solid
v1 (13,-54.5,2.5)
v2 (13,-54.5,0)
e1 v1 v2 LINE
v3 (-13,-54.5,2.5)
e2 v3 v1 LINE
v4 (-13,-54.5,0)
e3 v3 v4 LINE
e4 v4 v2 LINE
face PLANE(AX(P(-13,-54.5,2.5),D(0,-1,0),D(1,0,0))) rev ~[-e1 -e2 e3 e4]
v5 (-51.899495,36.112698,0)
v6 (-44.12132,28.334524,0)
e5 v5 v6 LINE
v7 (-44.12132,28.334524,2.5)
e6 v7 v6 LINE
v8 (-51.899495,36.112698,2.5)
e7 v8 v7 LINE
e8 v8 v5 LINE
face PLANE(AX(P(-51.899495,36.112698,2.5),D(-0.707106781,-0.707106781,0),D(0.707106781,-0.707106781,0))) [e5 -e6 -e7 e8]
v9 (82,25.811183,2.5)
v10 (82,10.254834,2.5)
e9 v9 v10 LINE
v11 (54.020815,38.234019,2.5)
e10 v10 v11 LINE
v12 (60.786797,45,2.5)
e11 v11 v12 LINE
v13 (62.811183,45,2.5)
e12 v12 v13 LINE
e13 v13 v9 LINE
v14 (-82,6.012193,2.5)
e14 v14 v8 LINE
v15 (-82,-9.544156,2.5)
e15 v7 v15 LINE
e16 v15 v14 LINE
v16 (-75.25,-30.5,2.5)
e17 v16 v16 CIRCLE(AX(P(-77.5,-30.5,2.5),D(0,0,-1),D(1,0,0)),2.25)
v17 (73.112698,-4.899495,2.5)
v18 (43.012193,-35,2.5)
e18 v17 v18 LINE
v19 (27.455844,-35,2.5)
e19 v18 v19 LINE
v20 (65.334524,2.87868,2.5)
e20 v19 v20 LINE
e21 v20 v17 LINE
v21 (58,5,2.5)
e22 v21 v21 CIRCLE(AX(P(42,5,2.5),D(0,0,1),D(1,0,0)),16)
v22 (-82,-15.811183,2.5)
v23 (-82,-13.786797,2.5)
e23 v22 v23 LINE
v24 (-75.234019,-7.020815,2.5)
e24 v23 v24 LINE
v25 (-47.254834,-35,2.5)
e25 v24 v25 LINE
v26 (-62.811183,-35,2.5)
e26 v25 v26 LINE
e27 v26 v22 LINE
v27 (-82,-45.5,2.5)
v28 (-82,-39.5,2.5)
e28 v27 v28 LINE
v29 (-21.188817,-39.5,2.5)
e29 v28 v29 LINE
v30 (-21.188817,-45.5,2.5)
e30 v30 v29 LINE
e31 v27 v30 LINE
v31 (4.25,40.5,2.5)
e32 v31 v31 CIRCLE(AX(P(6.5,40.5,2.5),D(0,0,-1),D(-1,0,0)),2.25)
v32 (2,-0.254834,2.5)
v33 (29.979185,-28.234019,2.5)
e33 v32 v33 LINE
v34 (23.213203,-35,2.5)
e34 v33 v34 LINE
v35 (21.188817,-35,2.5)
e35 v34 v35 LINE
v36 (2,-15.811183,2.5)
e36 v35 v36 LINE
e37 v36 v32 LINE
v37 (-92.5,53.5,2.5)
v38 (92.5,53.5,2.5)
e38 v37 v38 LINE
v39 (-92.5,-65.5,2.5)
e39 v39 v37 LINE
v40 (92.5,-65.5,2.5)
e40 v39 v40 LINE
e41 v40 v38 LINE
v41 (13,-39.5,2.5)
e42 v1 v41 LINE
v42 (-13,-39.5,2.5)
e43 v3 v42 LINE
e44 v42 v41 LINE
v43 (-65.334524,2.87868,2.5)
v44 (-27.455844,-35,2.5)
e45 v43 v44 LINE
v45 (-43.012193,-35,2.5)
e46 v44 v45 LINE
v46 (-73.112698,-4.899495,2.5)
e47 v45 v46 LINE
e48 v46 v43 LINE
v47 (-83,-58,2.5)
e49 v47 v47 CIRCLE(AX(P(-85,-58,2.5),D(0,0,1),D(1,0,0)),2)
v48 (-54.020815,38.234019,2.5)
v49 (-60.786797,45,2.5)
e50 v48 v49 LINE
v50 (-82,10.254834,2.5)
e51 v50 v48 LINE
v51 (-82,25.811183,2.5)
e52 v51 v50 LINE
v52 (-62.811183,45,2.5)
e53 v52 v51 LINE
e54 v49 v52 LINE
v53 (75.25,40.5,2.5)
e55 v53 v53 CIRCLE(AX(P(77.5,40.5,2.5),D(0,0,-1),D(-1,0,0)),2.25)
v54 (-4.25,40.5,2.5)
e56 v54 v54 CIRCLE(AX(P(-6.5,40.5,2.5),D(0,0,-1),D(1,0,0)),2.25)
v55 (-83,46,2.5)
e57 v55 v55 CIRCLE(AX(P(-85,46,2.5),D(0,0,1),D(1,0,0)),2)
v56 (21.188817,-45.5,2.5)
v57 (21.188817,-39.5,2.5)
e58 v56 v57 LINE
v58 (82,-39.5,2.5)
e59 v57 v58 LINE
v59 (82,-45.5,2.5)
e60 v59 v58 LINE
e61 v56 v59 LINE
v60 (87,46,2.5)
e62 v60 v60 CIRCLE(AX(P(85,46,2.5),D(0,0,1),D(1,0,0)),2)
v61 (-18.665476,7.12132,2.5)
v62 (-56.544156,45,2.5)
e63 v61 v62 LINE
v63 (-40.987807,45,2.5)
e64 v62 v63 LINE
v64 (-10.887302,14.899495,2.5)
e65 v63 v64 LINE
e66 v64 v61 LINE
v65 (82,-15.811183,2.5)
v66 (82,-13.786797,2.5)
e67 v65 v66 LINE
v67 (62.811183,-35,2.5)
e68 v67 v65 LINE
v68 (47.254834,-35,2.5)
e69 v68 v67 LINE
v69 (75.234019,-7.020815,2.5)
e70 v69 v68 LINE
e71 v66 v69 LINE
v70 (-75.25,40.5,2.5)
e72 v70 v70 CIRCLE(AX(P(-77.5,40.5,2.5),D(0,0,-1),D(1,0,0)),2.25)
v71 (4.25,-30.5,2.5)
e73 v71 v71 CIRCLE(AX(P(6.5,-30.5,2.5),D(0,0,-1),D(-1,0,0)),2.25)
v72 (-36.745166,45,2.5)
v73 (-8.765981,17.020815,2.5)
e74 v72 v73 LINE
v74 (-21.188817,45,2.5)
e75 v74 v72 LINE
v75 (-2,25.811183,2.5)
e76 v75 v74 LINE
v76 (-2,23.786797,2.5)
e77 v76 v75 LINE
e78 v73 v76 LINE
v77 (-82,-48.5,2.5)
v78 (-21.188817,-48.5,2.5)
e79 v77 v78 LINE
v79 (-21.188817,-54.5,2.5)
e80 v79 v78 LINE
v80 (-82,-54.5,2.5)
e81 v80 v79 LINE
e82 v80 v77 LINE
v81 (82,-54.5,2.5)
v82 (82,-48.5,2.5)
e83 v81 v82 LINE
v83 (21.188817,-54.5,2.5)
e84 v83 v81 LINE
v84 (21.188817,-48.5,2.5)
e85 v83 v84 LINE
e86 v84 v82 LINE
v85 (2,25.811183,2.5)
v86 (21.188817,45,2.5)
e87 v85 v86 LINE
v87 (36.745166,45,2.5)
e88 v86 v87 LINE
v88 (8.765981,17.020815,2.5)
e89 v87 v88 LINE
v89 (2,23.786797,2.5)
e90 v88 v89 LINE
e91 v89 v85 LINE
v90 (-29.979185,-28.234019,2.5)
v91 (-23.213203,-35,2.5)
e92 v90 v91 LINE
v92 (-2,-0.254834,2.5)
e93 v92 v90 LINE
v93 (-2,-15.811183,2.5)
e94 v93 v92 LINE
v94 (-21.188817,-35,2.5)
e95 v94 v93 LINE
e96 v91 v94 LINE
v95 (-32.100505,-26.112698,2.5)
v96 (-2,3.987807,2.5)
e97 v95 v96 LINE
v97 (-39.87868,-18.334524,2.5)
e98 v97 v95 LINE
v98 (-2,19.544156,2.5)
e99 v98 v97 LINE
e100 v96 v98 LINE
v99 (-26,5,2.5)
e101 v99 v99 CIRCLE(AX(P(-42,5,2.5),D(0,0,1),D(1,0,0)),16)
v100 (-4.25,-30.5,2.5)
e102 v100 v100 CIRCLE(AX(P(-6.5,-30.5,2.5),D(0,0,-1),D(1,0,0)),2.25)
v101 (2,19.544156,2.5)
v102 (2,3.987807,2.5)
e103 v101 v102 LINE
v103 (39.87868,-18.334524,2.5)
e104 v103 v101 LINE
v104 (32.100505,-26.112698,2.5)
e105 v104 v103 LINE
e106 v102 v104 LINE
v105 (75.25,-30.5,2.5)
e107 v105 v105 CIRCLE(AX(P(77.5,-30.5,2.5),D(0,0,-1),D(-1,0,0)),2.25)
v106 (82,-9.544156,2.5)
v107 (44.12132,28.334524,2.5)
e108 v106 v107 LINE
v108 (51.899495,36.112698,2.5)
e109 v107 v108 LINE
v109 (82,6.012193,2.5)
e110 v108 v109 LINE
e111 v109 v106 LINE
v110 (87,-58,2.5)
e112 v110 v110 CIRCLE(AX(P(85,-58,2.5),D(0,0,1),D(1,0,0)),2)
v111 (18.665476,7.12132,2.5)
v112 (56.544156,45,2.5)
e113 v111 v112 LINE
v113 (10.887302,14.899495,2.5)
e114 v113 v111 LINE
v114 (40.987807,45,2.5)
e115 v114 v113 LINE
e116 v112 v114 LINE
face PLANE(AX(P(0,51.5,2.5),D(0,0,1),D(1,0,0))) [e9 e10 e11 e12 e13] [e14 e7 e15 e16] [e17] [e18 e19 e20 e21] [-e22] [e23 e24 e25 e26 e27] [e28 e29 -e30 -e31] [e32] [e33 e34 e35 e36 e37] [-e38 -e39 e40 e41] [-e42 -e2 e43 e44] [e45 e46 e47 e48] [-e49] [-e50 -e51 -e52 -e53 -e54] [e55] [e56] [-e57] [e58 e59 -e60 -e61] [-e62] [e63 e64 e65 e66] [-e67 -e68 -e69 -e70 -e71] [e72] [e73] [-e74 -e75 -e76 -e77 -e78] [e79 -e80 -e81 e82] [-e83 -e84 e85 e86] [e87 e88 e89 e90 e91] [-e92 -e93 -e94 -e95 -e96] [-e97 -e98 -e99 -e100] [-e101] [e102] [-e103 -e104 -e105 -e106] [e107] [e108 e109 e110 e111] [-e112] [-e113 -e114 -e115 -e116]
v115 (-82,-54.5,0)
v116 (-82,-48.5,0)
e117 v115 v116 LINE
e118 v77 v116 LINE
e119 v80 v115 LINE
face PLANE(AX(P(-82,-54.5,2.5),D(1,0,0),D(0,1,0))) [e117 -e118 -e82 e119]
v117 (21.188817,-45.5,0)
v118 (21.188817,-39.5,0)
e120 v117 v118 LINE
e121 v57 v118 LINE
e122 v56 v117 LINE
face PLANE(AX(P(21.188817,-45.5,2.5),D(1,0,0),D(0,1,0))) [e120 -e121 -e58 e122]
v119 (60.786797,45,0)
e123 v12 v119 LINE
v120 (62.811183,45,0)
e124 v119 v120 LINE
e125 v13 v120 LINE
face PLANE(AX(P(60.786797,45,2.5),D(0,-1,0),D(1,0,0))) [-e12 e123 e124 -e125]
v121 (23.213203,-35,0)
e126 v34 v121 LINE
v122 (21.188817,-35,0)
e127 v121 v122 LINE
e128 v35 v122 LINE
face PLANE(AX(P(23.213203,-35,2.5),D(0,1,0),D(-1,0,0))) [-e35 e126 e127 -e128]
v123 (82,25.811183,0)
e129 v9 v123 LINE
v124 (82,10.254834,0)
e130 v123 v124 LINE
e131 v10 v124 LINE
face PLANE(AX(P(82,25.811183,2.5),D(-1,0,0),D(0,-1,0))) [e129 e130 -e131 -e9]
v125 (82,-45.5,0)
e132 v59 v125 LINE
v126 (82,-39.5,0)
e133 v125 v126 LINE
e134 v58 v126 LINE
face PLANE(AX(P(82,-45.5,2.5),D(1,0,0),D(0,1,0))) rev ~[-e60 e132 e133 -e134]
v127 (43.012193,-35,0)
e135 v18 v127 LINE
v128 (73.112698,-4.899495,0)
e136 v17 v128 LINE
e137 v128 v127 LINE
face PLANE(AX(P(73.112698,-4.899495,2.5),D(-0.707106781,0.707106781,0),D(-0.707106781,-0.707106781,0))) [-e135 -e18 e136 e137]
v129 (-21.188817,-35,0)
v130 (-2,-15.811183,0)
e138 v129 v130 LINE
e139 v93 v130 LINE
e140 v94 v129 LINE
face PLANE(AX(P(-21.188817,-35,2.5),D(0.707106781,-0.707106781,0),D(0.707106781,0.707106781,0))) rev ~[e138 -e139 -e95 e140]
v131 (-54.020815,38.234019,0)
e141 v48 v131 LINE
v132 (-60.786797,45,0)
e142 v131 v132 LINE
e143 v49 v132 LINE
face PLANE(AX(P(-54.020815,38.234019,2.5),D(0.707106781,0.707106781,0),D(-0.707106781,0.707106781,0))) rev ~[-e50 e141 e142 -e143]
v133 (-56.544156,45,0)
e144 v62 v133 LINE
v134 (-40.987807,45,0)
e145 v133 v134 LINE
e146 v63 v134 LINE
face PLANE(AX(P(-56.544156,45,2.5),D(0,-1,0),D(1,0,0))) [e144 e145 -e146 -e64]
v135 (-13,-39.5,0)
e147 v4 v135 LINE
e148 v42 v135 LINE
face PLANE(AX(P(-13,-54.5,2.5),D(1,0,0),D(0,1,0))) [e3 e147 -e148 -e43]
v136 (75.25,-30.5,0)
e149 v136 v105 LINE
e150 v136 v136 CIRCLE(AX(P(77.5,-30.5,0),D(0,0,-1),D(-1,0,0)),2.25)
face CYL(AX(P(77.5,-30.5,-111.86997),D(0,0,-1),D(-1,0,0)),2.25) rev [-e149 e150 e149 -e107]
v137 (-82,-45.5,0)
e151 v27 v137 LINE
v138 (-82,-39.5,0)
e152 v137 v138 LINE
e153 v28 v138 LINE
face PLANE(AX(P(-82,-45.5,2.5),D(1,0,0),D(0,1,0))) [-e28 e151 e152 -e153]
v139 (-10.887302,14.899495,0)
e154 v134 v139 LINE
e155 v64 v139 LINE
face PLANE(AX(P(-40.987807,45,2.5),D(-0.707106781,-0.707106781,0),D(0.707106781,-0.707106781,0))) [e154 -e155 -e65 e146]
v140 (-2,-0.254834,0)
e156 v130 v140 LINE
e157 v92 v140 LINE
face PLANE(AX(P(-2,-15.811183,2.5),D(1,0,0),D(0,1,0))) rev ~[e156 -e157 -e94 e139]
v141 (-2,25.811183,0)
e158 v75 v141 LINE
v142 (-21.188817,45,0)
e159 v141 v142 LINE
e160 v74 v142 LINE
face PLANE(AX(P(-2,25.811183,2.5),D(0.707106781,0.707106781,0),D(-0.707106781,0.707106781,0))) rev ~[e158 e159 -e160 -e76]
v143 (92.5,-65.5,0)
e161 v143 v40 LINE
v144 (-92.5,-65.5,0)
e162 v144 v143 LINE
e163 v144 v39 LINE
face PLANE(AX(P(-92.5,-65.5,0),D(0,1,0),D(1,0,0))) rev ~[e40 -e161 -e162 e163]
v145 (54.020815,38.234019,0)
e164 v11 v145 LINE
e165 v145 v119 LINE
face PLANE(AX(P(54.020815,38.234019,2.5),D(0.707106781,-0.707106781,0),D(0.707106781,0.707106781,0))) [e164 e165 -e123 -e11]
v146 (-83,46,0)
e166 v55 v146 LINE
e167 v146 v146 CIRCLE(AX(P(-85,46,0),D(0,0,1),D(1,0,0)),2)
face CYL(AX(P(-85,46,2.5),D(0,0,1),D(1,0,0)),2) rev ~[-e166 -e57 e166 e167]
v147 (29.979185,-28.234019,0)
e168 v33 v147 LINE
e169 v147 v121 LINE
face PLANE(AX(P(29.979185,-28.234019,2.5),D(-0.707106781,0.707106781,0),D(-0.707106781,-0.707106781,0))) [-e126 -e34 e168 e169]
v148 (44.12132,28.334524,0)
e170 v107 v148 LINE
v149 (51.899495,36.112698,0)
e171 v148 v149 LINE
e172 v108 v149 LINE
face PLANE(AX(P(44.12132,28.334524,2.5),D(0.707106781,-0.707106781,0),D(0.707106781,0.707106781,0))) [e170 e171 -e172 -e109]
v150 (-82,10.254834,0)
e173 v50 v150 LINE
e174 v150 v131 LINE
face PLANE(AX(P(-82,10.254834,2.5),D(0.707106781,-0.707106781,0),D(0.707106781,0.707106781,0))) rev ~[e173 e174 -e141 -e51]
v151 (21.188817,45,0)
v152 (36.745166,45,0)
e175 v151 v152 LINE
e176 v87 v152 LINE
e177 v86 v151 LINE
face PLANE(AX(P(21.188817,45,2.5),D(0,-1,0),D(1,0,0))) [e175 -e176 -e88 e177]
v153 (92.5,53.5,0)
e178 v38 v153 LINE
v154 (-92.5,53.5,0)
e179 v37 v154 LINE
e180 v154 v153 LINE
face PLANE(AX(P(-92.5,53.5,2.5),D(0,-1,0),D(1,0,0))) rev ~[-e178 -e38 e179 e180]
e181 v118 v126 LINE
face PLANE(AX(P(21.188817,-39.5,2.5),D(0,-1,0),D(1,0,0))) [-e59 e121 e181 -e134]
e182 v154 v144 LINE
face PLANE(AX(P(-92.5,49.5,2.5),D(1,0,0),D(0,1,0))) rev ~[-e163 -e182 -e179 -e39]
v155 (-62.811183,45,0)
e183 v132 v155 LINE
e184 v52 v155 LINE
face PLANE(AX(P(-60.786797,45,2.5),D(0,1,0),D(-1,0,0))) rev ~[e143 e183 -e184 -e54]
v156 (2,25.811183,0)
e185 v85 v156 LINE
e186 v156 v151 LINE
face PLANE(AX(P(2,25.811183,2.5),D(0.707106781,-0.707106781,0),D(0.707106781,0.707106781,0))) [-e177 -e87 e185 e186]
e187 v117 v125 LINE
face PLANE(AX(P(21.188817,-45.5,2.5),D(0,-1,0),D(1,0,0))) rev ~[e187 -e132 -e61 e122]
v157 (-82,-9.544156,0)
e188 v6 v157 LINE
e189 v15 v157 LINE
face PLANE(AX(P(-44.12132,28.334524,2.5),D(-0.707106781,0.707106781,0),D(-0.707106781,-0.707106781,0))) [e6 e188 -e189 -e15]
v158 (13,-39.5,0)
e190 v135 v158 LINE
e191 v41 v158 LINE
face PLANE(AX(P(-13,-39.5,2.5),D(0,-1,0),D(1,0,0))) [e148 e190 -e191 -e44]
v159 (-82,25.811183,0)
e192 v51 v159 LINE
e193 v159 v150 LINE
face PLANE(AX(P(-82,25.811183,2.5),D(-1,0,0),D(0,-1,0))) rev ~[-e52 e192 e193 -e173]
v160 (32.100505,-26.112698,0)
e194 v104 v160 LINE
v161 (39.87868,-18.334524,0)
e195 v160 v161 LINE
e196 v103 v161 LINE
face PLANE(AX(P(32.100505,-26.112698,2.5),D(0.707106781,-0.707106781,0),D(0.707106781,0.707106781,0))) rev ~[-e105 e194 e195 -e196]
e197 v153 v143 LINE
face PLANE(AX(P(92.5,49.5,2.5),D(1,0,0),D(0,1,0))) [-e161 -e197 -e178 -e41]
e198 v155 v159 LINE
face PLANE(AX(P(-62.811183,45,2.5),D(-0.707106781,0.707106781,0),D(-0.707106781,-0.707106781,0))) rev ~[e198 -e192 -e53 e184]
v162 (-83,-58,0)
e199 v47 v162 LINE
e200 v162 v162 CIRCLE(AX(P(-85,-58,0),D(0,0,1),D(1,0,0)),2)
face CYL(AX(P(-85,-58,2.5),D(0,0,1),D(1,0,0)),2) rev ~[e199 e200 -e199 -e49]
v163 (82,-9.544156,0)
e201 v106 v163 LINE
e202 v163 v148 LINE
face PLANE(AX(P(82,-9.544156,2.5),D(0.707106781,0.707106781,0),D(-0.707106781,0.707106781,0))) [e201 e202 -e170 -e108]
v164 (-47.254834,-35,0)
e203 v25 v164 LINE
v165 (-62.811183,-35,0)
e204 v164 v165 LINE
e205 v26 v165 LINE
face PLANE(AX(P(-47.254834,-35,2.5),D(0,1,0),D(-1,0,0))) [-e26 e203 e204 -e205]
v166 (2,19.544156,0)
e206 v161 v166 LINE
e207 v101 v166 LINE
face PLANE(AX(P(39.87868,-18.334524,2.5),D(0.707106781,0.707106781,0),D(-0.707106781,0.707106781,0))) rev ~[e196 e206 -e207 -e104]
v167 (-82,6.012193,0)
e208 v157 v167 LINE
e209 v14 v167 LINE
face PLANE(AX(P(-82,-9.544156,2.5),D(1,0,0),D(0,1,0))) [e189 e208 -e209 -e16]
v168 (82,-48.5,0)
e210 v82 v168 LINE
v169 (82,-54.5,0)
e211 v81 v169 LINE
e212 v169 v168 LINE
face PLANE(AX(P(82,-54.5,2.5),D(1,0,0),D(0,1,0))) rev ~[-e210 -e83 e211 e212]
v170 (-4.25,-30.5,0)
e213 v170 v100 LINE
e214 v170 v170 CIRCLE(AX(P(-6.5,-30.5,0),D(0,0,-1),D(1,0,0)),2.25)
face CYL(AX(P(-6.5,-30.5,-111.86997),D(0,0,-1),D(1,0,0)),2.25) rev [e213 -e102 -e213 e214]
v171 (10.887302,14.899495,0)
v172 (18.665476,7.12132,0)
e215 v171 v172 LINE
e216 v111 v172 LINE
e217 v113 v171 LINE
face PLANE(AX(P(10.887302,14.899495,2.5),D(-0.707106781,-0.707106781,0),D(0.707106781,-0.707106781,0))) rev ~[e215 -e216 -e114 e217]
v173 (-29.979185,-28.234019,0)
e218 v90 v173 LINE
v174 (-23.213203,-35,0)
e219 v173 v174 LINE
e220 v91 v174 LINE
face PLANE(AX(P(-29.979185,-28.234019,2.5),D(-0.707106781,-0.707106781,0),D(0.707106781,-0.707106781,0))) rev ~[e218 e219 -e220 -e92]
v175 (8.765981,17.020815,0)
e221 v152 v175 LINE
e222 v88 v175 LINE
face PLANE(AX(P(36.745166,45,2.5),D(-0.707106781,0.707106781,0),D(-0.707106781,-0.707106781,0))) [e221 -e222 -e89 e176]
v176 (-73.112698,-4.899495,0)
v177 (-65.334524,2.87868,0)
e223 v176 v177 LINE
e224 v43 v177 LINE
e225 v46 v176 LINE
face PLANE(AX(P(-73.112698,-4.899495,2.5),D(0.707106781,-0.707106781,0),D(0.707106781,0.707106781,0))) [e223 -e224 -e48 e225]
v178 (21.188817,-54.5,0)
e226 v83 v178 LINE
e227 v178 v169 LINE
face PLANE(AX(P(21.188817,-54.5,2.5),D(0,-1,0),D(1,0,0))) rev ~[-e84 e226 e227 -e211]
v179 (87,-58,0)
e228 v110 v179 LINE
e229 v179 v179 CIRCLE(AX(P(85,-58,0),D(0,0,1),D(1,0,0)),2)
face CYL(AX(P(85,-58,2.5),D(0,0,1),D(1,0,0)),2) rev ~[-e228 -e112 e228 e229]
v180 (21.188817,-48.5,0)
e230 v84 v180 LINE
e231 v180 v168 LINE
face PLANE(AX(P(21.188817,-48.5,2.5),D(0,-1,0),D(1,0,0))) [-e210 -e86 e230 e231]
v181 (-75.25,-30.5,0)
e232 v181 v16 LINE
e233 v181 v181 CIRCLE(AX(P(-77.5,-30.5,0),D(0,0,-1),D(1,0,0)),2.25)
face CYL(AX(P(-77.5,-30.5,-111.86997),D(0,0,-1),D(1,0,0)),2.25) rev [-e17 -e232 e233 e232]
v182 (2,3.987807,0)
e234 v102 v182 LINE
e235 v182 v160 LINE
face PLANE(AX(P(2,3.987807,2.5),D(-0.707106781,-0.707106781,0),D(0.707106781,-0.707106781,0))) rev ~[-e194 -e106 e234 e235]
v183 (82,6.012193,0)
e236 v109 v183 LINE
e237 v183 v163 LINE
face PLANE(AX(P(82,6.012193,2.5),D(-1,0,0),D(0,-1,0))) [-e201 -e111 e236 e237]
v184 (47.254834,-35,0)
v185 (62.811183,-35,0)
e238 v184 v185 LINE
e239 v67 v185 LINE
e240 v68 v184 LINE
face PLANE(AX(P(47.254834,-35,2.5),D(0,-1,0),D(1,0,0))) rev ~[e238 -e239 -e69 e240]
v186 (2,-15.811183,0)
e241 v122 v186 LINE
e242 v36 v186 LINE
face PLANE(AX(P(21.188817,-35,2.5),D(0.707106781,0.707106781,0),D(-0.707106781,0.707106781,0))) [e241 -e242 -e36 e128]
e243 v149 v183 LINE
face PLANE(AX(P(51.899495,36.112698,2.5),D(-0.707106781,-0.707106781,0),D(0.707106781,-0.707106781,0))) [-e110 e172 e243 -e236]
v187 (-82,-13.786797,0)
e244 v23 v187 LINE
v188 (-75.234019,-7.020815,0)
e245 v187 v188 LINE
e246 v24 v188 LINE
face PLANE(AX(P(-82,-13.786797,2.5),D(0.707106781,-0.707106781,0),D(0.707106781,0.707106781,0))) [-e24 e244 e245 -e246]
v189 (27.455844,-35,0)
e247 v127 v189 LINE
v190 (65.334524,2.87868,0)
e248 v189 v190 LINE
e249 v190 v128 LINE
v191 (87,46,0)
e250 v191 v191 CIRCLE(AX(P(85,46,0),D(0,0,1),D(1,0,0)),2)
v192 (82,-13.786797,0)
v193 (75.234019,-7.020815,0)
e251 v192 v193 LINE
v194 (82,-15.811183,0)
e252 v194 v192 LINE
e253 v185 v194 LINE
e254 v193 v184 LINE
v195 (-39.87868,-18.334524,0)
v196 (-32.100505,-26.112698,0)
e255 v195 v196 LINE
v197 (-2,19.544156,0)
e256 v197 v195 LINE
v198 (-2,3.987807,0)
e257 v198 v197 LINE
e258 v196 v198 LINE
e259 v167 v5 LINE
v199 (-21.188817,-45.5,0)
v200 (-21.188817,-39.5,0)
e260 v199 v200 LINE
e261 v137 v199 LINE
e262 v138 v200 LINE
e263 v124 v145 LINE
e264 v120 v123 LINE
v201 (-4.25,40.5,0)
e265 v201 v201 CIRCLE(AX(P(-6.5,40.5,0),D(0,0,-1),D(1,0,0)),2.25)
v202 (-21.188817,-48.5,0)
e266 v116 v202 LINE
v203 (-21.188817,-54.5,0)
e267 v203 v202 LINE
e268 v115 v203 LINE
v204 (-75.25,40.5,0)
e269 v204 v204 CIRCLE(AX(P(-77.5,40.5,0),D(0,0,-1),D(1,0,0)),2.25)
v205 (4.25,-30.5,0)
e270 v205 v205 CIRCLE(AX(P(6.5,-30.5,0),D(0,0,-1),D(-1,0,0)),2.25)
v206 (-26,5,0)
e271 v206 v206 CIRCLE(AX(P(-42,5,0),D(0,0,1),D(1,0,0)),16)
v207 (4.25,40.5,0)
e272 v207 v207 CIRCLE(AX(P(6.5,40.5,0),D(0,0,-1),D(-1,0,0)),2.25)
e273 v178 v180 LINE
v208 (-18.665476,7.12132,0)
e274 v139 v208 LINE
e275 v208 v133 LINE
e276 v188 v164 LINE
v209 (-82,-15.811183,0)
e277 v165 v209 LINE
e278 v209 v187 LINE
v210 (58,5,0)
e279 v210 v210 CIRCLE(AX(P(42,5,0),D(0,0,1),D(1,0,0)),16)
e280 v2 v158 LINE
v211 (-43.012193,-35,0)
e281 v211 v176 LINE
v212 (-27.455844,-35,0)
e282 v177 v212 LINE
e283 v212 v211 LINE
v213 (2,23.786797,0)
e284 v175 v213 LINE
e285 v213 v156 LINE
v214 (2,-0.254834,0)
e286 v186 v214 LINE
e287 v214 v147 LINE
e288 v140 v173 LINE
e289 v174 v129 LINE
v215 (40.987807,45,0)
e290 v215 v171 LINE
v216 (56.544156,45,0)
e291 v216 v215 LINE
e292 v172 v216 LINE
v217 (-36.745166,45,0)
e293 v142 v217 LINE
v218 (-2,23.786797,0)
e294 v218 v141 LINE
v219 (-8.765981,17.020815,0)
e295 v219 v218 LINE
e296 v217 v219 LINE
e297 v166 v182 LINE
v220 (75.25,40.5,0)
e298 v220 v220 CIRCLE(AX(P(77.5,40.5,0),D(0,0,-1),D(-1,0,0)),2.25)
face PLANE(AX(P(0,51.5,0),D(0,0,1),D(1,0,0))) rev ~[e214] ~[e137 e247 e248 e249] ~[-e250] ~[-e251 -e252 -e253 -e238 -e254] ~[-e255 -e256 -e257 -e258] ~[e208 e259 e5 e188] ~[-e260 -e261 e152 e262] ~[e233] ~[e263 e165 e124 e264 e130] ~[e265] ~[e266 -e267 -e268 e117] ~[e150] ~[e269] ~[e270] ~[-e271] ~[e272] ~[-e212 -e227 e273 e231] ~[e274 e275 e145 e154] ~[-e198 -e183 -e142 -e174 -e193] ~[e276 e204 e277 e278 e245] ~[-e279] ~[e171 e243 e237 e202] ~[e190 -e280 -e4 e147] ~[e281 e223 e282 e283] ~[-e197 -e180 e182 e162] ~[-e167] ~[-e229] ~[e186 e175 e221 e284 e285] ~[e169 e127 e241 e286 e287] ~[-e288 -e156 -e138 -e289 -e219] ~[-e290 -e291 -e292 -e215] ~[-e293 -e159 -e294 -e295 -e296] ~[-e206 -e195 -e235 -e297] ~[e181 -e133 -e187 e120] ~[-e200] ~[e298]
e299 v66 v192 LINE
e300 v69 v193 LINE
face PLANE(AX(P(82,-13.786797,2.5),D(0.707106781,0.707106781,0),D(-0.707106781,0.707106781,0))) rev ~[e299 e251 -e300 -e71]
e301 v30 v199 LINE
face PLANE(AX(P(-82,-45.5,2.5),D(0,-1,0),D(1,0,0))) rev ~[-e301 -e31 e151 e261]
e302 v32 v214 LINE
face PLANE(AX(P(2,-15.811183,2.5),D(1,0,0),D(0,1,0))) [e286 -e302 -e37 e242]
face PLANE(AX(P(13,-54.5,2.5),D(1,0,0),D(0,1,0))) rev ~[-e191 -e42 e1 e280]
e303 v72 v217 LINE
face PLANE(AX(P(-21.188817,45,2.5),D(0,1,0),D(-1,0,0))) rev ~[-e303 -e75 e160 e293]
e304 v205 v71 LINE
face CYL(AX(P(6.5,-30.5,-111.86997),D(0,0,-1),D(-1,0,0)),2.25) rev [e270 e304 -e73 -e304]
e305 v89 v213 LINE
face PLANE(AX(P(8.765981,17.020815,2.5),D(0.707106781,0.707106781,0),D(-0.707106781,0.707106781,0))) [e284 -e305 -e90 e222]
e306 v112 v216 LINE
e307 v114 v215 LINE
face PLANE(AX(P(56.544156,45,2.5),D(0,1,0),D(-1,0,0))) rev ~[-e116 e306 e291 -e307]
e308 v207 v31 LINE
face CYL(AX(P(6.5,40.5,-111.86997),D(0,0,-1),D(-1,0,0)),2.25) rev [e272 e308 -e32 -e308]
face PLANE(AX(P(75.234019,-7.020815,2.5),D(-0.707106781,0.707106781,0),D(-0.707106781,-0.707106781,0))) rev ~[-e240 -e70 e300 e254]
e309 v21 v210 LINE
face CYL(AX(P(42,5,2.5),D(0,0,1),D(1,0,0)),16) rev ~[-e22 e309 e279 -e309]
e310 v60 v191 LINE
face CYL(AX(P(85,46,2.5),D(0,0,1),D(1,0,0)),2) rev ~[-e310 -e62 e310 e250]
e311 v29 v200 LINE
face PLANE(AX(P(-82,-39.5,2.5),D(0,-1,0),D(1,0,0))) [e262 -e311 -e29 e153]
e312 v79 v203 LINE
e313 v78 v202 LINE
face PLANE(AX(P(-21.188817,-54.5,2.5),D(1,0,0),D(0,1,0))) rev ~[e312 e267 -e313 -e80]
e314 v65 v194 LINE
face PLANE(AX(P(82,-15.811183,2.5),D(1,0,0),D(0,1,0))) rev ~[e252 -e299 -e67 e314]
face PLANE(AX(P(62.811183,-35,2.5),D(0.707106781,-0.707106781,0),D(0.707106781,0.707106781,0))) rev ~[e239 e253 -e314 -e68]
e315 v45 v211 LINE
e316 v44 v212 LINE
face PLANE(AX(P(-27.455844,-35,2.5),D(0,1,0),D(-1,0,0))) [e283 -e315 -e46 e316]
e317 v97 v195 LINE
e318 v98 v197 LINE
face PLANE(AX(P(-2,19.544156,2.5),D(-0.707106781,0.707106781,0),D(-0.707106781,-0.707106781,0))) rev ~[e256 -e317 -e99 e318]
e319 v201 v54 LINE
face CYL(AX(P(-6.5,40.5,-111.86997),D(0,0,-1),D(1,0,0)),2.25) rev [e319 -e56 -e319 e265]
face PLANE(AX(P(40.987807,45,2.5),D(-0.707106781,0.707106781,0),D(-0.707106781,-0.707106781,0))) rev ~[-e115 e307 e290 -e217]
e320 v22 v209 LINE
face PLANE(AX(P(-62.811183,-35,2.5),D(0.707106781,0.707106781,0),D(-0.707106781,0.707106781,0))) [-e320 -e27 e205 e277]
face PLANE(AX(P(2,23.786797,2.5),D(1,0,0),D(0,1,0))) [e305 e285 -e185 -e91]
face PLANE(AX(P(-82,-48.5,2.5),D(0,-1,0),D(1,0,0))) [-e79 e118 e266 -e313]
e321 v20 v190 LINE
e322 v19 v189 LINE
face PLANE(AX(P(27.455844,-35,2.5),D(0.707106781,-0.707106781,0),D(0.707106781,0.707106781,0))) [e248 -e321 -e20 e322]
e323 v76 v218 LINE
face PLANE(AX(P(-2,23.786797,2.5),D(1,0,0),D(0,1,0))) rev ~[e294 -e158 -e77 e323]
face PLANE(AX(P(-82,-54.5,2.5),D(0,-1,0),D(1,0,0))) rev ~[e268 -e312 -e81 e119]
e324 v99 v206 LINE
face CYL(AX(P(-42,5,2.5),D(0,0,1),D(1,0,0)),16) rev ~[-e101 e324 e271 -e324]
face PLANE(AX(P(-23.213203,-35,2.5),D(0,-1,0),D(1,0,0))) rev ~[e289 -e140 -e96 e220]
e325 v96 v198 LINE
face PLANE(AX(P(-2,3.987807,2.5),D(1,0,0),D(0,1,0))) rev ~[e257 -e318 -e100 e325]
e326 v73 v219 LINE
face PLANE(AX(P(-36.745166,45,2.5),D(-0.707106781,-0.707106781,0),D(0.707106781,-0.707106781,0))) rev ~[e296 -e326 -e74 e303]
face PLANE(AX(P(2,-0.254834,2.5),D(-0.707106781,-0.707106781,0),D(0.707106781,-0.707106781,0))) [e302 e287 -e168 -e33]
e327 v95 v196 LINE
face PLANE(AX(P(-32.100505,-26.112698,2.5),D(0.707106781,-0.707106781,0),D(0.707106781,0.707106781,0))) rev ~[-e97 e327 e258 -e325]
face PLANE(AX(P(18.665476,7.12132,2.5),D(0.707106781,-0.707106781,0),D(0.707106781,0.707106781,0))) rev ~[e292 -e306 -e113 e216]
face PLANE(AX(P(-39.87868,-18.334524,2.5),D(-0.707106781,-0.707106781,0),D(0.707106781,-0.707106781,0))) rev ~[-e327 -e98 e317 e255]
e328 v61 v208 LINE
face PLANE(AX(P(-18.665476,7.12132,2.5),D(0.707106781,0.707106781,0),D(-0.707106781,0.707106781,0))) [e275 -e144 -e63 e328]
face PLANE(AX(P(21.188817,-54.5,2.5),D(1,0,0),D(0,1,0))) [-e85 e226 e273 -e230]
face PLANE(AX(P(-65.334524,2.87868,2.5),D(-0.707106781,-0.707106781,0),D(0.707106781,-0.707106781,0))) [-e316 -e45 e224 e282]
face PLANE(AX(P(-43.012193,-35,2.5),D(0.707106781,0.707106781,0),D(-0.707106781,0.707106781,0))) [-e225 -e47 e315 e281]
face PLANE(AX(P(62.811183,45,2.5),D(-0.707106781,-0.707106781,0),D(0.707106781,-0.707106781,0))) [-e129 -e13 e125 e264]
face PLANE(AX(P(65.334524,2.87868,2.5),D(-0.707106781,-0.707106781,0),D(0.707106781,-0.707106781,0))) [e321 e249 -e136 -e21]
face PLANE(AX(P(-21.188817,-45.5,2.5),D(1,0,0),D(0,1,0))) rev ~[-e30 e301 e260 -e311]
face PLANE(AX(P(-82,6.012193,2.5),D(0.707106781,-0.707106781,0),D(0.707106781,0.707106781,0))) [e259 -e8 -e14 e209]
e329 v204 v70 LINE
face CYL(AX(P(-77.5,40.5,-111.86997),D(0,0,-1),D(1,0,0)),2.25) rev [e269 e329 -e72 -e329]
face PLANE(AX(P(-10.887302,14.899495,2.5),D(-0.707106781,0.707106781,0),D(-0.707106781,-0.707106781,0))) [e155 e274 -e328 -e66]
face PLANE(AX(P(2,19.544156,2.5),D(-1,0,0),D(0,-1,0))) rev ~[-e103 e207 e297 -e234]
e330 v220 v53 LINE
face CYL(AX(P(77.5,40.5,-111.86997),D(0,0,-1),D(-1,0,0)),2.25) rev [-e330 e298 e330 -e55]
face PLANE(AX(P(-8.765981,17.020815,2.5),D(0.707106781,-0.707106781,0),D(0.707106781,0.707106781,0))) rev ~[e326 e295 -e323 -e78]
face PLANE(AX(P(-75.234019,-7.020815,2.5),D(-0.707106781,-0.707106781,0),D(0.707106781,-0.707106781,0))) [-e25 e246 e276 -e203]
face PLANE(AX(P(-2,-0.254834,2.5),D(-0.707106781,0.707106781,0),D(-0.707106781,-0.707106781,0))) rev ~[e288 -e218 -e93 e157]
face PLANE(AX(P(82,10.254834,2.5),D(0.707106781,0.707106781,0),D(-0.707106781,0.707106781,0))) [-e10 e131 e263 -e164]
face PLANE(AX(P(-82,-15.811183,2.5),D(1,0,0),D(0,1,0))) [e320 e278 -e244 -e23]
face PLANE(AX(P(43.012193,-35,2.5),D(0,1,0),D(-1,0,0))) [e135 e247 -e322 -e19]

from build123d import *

# Parameters (mm, degrees)
SKETCH1_W               = 185
SKETCH1_H               = 115
BOSS_EXTRUDE1_DEPTH     = 2.5
SKETCH2_R               = 16
CUT_EXTRUDE1_DEPTH      = 114.369969569
SKETCH5_W               = 26
SKETCH5_H               = 15
CUT_EXTRUDE4_DEPTH      = 10
CUT_EXTRUDE7_DEPTH      = 10
SKETCH9_W               = 60.811183182
SKETCH9_H               = 6
CUT_EXTRUDE8_DEPTH      = 10
CUT_EXTRUDE9_DEPTH      = 114.369969569
CUT_EXTRUDE9_DEPTH_BACK = 114.369969569
SKETCH10_R              = 2.25
SKETCH11_R              = 2
CUT_EXTRUDE11_DEPTH     = 114.369969569
SKETCH12_W              = 185
SKETCH12_H              = 4
BOSS_EXTRUDE2_DEPTH     = 2.5


with BuildPart() as part:
    # Sketch1 → Boss-Extrude1 (new body)
    with BuildSketch(Plane.XY):
        with Locations((0, -8)):
            Rectangle(SKETCH1_W, SKETCH1_H)
    extrude(amount=BOSS_EXTRUDE1_DEPTH)

    # Sketch2 → Cut-Extrude1 (cut, through all)
    with BuildSketch(Plane.XY.offset(2.5)):
        with Locations((-42, 5)):
            Circle(SKETCH2_R)
        with Locations((42, 5)):
            Circle(SKETCH2_R)
    extrude(amount=-CUT_EXTRUDE1_DEPTH, mode=Mode.SUBTRACT)

    # Sketch5 → Cut-Extrude4 (cut)
    with BuildSketch(Plane.XY.offset(2.5)):
        with Locations((0, -47)):
            Rectangle(SKETCH5_W, SKETCH5_H)
    extrude(amount=-CUT_EXTRUDE4_DEPTH, mode=Mode.SUBTRACT)

    # Sketch8 → Cut-Extrude7 (cut)
    with BuildSketch(Plane.XY.offset(2.5)):
        Polygon((-82, 10.254833996), (-54.02081528, 38.234018716), (-60.786796564, 45), (-62.811183182, 45), (-82, 25.811183182), align=None)
        Polygon((-82, 6.012193309), (-51.899494937, 36.112698372), (-44.121320344, 28.334523779), (-82, -9.544155877), align=None)
        Polygon((-21.188816818, -35), (-2, -15.811183182), (-2, -0.254833996), (-29.97918472, -28.234018716), (-23.213203436, -35), align=None)
        Polygon((-43.012193309, -35), (-73.112698372, -4.899494937), (-65.334523779, 2.878679656), (-27.455844123, -35), align=None)
        Polygon((-82, -13.786796564), (-75.234018716, -7.02081528), (-47.254833996, -35), (-62.811183182, -35), (-82, -15.811183182), align=None)
        Polygon((-18.665476221, 7.121320344), (-56.544155877, 45), (-40.987806691, 45), (-10.887301628, 14.899494937), align=None)
        Polygon((-2, 25.811183182), (-21.188816818, 45), (-36.745166004, 45), (-8.765981284, 17.02081528), (-2, 23.786796564), align=None)
        Polygon((-2, 3.987806691), (-2, 19.544155877), (-39.878679656, -18.334523779), (-32.100505063, -26.112698372), align=None)
        Polygon((39.878679656, -18.334523779), (2, 19.544155877), (2, 3.987806691), (32.100505063, -26.112698372), align=None)
        Polygon((29.97918472, -28.234018716), (23.213203436, -35), (21.188816818, -35), (2, -15.811183182), (2, -0.254833996), align=None)
        Polygon((54.02081528, 38.234018716), (60.786796564, 45), (62.811183182, 45), (82, 25.811183182), (82, 10.254833996), align=None)
        Polygon((2, 23.786796564), (2, 25.811183182), (21.188816818, 45), (36.745166004, 45), (8.765981284, 17.02081528), align=None)
        Polygon((56.544155877, 45), (40.987806691, 45), (10.887301628, 14.899494937), (18.665476221, 7.121320344), align=None)
        Polygon((44.121320344, 28.334523779), (51.899494937, 36.112698372), (82, 6.012193309), (82, -9.544155877), align=None)
        Polygon((62.811183182, -35), (82, -15.811183182), (82, -13.786796564), (75.234018716, -7.02081528), (47.254833996, -35), align=None)
        Polygon((43.012193309, -35), (27.455844123, -35), (65.334523779, 2.878679656), (73.112698372, -4.899494937), align=None)
    extrude(amount=-CUT_EXTRUDE7_DEPTH, mode=Mode.SUBTRACT)

    # Sketch9 → Cut-Extrude8 (cut)
    with BuildSketch(Plane.XY.offset(2.5)):
        with Locations((-51.594408409, -42.5)):
            Rectangle(SKETCH9_W, SKETCH9_H)
        with Locations((51.594408409, -42.5)):
            Rectangle(SKETCH9_W, SKETCH9_H)
        with Locations((-51.594408409, -51.5)):
            Rectangle(SKETCH9_W, SKETCH9_H)
        with Locations((51.594408409, -51.5)):
            Rectangle(SKETCH9_W, SKETCH9_H)
    extrude(amount=-CUT_EXTRUDE8_DEPTH, mode=Mode.SUBTRACT)

    # Sketch10 → Cut-Extrude9 (cut, two sides: drawn at the far end of the back side and taken through both)
    with BuildSketch(Plane.XY.offset(2.5).offset(-CUT_EXTRUDE9_DEPTH_BACK)):
        with Locations((-77.5, 40.5)):
            Circle(SKETCH10_R)
        with Locations((-6.5, 40.5)):
            Circle(SKETCH10_R)
        with Locations((-6.5, -30.5)):
            Circle(SKETCH10_R)
        with Locations((-77.5, -30.5)):
            Circle(SKETCH10_R)
        with Locations(Location((77.5, -30.5, 0), (0, 0, 180))):
            Circle(SKETCH10_R)
        with Locations(Location((6.5, -30.5, 0), (0, 0, 180))):
            Circle(SKETCH10_R)
        with Locations(Location((6.5, 40.5, 0), (0, 0, 180))):
            Circle(SKETCH10_R)
        with Locations(Location((77.5, 40.5, 0), (0, 0, 180))):
            Circle(SKETCH10_R)
    extrude(amount=CUT_EXTRUDE9_DEPTH + CUT_EXTRUDE9_DEPTH_BACK, mode=Mode.SUBTRACT)

    # Sketch11 → Cut-Extrude11 (cut, through all)
    with BuildSketch(Plane.XY.offset(2.5)):
        with Locations((-85, 46)):
            Circle(SKETCH11_R)
        with Locations((85, 46)):
            Circle(SKETCH11_R)
        with Locations((85, -58)):
            Circle(SKETCH11_R)
        with Locations((-85, -58)):
            Circle(SKETCH11_R)
    extrude(amount=-CUT_EXTRUDE11_DEPTH, mode=Mode.SUBTRACT)

    # Sketch12 → Boss-Extrude2 (add)
    with BuildSketch(Plane.XY.offset(2.5)):
        with Locations((0, 51.5)):
            Rectangle(SKETCH12_W, SKETCH12_H)
    extrude(amount=-BOSS_EXTRUDE2_DEPTH)


solid = part.part
